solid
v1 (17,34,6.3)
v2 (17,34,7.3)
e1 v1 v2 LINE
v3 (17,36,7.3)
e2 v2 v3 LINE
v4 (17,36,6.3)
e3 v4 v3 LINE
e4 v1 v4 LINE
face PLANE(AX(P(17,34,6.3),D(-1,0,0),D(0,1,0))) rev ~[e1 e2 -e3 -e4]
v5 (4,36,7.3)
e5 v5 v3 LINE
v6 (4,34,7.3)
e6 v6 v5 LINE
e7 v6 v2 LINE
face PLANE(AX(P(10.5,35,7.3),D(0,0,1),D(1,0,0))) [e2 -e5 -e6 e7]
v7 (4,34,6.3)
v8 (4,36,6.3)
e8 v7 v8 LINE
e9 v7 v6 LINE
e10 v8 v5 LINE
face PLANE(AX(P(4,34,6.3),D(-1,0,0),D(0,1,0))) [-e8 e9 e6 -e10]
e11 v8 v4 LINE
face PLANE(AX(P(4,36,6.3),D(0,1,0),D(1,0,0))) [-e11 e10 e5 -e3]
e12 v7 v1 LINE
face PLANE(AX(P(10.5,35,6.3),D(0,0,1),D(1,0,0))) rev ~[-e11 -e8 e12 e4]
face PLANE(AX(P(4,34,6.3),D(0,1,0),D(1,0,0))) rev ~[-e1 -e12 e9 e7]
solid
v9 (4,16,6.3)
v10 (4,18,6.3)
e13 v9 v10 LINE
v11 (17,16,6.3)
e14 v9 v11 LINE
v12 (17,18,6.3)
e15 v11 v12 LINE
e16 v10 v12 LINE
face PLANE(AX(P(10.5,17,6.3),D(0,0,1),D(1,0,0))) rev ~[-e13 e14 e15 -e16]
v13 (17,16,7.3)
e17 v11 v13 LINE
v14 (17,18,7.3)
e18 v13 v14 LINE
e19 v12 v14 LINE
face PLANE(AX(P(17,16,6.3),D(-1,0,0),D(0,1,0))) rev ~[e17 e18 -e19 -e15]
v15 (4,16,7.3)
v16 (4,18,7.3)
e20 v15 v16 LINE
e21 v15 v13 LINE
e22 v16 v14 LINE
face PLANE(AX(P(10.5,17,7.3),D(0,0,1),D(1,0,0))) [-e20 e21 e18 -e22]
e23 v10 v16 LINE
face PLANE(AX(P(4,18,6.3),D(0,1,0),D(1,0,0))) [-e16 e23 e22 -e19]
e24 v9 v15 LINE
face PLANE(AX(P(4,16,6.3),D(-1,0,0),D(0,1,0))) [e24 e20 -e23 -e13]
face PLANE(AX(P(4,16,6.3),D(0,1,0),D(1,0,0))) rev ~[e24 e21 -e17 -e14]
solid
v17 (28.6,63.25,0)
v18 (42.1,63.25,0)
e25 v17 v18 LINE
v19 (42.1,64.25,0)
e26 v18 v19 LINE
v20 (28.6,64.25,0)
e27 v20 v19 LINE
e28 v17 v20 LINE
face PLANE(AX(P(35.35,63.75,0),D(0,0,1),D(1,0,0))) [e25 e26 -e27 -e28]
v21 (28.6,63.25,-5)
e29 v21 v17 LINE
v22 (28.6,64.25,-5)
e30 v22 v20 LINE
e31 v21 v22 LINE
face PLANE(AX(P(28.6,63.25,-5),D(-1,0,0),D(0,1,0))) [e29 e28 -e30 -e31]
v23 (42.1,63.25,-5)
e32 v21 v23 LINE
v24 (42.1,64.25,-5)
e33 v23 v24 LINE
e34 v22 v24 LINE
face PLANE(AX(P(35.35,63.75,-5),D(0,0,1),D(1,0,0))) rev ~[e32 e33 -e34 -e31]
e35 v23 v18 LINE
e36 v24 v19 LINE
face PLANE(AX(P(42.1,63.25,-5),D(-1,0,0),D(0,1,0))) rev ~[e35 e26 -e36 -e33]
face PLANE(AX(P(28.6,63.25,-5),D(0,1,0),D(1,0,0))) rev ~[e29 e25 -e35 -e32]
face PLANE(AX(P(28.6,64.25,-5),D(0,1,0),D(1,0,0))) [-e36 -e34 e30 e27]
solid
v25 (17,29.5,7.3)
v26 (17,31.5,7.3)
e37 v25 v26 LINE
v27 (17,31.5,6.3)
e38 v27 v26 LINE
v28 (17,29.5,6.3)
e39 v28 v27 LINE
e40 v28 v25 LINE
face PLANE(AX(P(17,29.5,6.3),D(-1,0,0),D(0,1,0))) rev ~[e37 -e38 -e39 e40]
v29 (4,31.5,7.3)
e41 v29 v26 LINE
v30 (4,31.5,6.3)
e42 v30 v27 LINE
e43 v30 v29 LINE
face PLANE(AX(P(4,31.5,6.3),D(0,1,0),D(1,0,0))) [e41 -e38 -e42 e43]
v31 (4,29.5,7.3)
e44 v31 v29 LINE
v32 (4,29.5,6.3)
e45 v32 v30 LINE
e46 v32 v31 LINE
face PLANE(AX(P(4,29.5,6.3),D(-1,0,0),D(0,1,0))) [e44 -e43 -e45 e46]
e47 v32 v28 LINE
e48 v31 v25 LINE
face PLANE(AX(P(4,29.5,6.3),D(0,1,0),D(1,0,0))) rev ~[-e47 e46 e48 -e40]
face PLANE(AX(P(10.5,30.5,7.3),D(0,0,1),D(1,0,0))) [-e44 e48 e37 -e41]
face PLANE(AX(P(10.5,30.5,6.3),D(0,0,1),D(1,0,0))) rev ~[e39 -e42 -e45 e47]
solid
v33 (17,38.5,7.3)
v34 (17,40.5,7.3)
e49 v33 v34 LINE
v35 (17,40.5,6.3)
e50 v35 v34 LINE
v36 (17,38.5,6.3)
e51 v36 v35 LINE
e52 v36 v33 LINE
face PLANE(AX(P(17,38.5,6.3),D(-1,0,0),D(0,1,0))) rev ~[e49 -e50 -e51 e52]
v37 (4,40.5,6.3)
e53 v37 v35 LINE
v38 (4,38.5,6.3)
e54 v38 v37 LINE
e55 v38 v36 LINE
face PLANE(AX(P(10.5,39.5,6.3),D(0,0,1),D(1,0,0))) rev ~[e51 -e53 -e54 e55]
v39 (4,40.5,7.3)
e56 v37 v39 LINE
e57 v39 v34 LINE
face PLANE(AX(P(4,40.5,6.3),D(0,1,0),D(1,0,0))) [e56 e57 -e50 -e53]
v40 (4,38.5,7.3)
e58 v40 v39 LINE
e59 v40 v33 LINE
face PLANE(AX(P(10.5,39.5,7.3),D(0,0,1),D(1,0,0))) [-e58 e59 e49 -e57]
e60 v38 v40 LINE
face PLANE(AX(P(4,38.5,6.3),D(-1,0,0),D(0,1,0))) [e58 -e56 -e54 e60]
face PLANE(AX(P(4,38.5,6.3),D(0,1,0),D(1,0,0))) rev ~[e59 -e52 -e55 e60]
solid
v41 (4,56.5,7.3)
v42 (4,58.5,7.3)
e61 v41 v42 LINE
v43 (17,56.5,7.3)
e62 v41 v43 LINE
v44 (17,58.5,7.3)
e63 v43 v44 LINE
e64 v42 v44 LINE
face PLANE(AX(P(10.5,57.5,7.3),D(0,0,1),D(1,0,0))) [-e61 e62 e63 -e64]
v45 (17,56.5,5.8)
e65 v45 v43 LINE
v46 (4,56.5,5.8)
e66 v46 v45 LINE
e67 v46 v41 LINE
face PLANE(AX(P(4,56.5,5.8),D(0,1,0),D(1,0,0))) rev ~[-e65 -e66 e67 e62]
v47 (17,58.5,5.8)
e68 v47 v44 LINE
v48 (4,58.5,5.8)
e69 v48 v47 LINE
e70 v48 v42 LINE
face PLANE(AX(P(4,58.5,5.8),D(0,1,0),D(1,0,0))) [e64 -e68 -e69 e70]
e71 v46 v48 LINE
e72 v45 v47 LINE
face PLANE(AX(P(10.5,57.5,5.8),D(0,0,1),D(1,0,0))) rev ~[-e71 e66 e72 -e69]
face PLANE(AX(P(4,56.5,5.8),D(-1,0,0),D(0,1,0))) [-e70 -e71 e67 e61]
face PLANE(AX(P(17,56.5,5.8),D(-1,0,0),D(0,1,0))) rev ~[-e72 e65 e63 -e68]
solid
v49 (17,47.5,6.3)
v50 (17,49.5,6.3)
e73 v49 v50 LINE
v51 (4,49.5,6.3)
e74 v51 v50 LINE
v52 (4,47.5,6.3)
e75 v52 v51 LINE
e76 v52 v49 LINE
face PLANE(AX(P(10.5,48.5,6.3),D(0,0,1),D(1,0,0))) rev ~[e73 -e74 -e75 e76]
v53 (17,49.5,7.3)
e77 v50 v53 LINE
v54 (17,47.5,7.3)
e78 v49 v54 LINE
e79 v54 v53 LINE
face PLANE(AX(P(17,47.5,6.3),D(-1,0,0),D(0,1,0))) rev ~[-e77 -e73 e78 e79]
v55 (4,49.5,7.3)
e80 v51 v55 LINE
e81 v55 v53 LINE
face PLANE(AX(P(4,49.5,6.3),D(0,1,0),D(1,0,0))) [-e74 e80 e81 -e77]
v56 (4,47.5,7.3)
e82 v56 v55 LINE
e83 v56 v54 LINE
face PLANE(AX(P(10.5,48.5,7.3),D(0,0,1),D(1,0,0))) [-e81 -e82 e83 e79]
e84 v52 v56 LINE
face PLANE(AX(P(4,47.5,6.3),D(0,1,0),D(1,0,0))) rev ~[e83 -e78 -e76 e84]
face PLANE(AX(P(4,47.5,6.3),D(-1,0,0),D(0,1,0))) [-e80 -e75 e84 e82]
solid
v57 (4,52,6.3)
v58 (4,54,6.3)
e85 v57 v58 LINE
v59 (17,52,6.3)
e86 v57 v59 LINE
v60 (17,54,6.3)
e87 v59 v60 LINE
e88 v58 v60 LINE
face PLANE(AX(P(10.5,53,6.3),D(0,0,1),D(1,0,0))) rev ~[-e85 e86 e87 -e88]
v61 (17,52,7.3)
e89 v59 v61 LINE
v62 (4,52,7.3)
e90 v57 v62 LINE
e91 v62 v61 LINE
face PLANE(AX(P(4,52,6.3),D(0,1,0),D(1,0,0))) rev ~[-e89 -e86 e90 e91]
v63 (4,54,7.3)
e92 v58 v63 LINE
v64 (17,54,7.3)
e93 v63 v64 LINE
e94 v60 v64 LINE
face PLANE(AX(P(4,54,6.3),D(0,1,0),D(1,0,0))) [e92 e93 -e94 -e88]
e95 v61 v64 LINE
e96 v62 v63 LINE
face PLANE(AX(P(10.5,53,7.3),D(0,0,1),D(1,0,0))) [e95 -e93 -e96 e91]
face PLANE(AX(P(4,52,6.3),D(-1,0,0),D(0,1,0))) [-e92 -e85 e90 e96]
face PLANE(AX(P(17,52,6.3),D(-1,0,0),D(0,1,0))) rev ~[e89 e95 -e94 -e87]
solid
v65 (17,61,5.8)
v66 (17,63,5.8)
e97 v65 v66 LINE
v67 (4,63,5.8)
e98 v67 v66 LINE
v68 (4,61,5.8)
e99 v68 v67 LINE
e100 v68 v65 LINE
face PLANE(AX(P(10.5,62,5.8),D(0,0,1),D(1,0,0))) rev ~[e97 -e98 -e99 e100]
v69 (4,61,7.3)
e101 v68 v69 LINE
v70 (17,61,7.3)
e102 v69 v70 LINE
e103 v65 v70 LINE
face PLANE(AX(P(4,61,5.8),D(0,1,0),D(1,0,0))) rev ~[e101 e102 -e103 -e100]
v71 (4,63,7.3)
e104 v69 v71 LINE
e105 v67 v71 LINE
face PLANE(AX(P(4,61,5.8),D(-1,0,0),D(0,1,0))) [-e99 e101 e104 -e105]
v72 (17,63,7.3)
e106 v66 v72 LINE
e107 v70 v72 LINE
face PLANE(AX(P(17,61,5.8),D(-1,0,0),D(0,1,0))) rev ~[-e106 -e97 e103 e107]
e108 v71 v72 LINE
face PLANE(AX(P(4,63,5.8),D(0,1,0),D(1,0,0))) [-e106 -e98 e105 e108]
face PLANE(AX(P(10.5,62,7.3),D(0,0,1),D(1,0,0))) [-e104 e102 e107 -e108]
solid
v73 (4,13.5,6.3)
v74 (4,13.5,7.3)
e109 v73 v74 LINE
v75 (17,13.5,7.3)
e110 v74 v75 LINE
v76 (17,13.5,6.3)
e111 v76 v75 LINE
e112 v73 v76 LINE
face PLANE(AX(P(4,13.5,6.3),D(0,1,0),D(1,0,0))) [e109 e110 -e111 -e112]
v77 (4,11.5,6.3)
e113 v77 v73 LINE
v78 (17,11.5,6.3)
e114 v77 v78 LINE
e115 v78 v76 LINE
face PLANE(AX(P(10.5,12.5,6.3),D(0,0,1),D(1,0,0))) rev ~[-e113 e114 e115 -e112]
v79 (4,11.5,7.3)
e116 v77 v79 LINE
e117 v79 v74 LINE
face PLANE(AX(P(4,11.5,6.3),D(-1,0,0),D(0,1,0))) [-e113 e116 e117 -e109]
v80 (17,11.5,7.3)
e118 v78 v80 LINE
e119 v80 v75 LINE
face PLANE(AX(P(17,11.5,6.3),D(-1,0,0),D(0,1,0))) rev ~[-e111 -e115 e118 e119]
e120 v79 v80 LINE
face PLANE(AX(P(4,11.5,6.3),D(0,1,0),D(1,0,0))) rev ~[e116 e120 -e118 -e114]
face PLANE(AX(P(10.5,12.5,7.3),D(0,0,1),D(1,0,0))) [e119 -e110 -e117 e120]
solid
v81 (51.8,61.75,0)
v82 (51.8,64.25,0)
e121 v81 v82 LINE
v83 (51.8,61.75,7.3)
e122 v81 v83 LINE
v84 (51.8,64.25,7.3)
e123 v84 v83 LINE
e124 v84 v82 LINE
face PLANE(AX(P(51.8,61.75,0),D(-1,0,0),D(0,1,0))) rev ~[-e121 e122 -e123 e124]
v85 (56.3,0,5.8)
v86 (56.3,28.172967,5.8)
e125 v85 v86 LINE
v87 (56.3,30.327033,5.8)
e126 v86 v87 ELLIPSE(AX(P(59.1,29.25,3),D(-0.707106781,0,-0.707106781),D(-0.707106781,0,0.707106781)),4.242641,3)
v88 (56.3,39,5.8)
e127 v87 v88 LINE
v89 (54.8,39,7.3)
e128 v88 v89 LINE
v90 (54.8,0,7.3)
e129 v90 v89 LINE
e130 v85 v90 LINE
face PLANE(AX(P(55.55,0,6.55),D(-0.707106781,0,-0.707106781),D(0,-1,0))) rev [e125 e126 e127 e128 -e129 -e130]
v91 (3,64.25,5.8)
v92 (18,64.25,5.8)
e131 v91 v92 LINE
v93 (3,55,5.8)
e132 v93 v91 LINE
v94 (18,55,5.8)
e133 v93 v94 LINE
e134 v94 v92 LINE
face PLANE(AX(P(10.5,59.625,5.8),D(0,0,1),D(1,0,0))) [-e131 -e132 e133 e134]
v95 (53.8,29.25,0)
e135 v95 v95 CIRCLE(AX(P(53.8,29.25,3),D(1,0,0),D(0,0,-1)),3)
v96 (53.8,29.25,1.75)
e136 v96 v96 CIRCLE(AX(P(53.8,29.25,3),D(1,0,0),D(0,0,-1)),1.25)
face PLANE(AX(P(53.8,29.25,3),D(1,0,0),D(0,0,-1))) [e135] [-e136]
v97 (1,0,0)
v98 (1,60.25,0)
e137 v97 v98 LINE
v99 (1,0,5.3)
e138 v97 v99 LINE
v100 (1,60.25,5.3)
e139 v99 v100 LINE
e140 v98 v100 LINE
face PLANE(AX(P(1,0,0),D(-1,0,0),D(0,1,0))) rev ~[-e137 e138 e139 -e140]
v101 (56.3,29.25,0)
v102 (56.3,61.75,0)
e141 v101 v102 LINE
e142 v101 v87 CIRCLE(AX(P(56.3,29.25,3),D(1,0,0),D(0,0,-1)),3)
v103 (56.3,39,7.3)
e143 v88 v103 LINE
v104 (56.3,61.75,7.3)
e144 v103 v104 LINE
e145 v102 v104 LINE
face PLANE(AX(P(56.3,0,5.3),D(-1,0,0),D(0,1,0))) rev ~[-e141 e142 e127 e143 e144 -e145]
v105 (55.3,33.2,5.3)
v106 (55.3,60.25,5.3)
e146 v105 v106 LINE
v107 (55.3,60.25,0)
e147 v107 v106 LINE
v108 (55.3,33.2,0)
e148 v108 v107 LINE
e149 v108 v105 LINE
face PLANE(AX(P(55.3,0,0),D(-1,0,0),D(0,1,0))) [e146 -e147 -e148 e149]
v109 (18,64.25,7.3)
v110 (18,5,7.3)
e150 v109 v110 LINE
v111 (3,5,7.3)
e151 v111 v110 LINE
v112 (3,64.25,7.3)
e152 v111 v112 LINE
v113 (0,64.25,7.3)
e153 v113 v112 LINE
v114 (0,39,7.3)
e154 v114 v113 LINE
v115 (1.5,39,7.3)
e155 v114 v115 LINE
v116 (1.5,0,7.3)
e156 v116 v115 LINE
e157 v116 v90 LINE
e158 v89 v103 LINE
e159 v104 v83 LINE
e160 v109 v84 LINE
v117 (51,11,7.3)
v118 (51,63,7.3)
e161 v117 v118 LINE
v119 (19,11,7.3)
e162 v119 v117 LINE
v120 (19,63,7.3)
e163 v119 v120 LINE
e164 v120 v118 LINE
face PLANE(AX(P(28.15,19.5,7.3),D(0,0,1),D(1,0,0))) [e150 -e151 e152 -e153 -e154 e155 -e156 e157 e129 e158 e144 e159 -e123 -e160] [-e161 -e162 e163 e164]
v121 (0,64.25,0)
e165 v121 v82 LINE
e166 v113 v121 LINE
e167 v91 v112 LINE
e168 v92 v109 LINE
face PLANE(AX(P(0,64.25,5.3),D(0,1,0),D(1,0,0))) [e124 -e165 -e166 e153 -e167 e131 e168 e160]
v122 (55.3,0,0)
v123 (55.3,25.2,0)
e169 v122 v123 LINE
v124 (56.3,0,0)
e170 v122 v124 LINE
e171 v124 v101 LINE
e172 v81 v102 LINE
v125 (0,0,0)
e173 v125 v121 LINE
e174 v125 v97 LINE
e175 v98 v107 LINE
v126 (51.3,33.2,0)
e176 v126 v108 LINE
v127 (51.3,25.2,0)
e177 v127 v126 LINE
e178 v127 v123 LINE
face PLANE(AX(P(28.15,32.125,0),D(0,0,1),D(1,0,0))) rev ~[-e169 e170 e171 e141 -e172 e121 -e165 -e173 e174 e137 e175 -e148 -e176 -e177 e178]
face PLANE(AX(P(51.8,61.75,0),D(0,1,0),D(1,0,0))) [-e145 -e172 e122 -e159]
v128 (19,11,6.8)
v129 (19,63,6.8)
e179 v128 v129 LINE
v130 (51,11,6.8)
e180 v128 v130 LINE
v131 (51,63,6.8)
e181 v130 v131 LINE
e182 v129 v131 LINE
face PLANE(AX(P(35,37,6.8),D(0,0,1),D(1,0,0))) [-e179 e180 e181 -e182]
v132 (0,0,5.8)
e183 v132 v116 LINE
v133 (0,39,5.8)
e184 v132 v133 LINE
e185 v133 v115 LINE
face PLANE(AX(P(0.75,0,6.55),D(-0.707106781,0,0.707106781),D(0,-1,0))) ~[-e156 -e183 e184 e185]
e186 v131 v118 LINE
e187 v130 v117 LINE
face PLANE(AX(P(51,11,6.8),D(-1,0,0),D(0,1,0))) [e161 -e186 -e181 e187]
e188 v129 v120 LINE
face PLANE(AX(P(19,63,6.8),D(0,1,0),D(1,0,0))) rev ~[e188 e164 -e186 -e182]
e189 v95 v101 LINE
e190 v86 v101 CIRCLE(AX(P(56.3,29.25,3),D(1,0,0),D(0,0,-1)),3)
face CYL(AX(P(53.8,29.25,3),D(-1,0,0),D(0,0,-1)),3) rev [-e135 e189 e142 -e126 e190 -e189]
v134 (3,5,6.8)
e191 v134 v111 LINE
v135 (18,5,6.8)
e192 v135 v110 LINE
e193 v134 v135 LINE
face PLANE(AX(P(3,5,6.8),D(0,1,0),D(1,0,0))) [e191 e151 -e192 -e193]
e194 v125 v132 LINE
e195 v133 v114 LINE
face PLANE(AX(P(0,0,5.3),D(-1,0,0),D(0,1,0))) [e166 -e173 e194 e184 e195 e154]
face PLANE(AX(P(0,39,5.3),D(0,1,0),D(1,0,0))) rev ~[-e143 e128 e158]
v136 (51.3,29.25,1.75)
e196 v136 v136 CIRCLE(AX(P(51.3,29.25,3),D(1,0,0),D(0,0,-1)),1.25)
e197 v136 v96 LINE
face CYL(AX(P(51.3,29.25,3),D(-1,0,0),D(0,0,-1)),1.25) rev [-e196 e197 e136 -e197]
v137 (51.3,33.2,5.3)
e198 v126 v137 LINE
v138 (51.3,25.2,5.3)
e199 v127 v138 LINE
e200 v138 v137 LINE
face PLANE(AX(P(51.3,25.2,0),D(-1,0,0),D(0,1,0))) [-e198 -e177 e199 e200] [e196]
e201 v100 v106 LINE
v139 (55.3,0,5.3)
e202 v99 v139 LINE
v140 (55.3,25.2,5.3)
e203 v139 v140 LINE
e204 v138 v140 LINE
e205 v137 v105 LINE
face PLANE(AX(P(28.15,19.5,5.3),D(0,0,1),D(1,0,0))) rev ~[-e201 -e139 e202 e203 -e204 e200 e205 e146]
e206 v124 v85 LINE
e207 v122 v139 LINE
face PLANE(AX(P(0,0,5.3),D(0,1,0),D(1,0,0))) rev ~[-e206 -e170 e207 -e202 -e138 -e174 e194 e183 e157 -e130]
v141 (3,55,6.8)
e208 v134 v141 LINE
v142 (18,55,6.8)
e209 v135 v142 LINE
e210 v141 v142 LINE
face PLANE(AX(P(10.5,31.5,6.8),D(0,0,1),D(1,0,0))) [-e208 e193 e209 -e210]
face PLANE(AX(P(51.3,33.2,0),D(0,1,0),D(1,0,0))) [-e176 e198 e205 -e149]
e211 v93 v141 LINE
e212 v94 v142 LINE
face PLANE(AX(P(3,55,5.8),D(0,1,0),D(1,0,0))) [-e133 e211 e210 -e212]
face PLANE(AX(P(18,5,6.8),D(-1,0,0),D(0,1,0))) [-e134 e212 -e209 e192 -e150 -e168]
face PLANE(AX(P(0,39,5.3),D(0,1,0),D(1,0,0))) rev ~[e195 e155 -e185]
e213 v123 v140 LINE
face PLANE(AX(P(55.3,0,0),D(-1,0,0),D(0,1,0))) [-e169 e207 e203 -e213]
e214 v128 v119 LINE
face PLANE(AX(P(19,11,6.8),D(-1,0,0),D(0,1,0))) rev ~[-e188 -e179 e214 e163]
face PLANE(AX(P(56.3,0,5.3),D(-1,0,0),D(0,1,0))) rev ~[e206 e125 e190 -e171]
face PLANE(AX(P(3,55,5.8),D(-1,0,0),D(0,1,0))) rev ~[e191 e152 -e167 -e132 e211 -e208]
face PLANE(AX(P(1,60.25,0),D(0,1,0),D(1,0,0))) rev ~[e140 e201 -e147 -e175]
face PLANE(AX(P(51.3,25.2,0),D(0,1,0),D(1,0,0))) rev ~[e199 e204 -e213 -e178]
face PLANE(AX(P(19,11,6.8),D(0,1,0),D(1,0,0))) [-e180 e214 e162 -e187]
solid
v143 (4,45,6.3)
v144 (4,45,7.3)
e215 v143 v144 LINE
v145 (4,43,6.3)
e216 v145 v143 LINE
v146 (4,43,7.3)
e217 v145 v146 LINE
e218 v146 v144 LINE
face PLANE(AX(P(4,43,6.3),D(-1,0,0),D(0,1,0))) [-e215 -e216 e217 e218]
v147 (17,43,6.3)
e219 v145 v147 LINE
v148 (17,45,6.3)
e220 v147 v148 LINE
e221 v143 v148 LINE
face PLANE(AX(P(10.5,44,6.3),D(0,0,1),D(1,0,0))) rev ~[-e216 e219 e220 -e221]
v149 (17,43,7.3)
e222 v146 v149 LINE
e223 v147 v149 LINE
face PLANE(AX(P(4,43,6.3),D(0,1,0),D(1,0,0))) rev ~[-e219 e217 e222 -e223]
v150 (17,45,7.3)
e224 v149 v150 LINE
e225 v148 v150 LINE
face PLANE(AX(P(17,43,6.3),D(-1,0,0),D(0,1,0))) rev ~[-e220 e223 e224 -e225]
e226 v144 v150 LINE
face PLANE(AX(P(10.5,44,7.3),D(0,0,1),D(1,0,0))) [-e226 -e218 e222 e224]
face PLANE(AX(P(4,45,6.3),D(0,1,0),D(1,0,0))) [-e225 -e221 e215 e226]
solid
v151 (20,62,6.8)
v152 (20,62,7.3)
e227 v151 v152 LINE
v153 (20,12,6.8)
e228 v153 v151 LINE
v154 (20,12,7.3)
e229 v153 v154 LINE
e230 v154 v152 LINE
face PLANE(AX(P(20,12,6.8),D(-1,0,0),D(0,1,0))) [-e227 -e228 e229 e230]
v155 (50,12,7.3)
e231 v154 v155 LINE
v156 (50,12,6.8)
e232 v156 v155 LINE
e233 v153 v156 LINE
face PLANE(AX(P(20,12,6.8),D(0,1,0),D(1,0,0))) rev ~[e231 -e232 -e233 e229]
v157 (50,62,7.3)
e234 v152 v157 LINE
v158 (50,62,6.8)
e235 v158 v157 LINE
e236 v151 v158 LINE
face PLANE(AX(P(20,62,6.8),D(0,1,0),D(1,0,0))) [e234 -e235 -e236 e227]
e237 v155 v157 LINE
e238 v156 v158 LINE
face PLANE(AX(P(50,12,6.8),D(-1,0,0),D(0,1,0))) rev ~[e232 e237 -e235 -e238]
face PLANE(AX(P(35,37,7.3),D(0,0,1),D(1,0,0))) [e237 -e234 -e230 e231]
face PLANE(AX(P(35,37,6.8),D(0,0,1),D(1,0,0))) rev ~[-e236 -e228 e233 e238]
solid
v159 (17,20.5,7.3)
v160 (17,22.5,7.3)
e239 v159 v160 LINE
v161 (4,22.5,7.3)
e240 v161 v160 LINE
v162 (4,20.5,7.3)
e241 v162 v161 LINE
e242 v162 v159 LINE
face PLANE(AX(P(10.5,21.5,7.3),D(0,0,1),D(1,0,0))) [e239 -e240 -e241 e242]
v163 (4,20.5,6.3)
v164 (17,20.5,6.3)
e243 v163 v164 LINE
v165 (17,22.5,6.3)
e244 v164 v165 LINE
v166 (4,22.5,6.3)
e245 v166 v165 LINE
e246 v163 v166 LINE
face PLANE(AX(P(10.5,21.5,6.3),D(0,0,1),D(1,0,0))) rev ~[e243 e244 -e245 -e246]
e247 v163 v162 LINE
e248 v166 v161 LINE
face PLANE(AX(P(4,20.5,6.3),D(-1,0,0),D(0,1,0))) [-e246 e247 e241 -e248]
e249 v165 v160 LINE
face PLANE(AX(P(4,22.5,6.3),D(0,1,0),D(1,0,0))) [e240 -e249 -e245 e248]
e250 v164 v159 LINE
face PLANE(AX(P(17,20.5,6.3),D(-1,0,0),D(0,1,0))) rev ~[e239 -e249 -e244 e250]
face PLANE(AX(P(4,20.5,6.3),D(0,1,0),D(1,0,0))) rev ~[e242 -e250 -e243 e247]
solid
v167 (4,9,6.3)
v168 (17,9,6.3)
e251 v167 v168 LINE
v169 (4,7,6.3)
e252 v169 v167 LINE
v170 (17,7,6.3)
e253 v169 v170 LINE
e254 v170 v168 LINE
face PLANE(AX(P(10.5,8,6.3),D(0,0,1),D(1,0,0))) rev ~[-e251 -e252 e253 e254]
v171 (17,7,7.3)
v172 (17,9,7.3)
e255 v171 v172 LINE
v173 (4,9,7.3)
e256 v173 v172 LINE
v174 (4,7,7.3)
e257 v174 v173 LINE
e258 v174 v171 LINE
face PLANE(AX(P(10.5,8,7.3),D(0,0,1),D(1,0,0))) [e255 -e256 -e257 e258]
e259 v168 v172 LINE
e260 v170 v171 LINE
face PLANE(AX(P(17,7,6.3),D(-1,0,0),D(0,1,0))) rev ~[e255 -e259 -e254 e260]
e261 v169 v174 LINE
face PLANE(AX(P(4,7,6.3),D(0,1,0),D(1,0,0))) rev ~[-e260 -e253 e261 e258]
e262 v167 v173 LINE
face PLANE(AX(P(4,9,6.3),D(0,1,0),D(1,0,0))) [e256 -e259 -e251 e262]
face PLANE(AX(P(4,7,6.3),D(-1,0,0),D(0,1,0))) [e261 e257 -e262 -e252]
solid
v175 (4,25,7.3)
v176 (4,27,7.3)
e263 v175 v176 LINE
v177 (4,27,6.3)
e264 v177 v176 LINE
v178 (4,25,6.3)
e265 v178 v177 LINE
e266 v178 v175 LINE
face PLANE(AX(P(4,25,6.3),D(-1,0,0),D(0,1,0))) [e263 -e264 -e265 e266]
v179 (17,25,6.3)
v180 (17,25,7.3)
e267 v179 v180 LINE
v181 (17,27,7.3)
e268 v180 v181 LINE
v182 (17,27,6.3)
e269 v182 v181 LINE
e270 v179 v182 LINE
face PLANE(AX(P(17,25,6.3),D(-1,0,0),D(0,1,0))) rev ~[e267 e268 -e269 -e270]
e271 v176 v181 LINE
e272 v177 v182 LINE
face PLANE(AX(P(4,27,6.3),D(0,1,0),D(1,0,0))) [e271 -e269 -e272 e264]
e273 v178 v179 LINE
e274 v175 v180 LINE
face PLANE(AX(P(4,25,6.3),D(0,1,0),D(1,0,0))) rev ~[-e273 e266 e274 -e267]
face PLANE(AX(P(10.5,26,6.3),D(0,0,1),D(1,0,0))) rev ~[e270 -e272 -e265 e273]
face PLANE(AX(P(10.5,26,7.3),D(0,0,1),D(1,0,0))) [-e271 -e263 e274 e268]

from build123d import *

# Parameters (mm, degrees)
BOX017_W          = 30
BOX017_H          = 50
BOX017_DEPTH      = 0.5
BOX020_W          = 13
BOX020_H          = 2
BOX020_DEPTH      = 1
BOX021_W          = 13
BOX021_H          = 2
BOX021_DEPTH      = 1
BOX022_W          = 13
BOX022_H          = 2
BOX022_DEPTH      = 1
BOX023_W          = 13
BOX023_H          = 2
BOX023_DEPTH      = 1
BOX024_W          = 13
BOX024_H          = 2
BOX024_DEPTH      = 1
BOX025_W          = 13
BOX025_H          = 2
BOX025_DEPTH      = 1
BOX030_W          = 13
BOX030_H          = 2
BOX030_DEPTH      = 1
BOX031_W          = 13
BOX031_H          = 2
BOX031_DEPTH      = 1
BOX032_W          = 13
BOX032_H          = 2
BOX032_DEPTH      = 1
BOX034_W          = 13
BOX034_H          = 2
BOX034_DEPTH      = 1
BOX035_W          = 13
BOX035_H          = 2
BOX035_DEPTH      = 1
BOX038_W          = 13
BOX038_H          = 2
BOX038_DEPTH      = 1.5
BOX040_W          = 13
BOX040_H          = 2
BOX040_DEPTH      = 1.5
BOX043_W          = 13.5
BOX043_H          = 1
BOX043_DEPTH      = 5
CYLINDER001_R     = 1.25
CYLINDER001_DEPTH = 2.5
CYLINDER_R        = 3
CYLINDER_DEPTH    = 2.5
BOX041_W          = 32
BOX041_H          = 52
BOX041_DEPTH      = 0.5
BOX018_W          = 15
BOX018_H          = 53
BOX018_DEPTH      = 0.5
BOX008_W          = 56.3
BOX008_H          = 39
BOX008_DEPTH      = 2
CHAMFER_SIZE      = 1.5
BOX019_W          = 15
BOX019_H          = 9.25
BOX019_DEPTH      = 1.5
BOX029_W          = 17
BOX029_H          = 9.25
BOX029_DEPTH      = 1.5
BOX010_W          = 10
BOX010_H          = 10
BOX010_DEPTH      = 10
BOX007_W          = 56.3
BOX007_H          = 25.25
BOX007_DEPTH      = 2
BOX042_W          = 54.3
BOX042_H          = 60.25
BOX042_DEPTH      = 5.3
BOX001_W          = 4.5
BOX001_H          = 2.5
BOX001_DEPTH      = 5.3
BOX_W             = 56.3
BOX_H             = 64.25
BOX_DEPTH         = 5.3
BOX044_W          = 4
BOX044_H          = 8
BOX044_DEPTH      = 5.3


with BuildPart() as cube_game_lable_inner:
    # Box017 → Box017 (new body)
    with BuildSketch(Plane(origin=(20, 12, 6.8), x_dir=(1, 0, 0), z_dir=(0, 0, 1))):
        with Locations((15, 25)):
            Rectangle(BOX017_W, BOX017_H)
    extrude(amount=BOX017_DEPTH)


with BuildPart() as cube_ladders:
    # Box020 → Box020 (new body)
    with BuildSketch(Plane(origin=(4, 7, 6.3), x_dir=(1, 0, 0), z_dir=(0, 0, 1))):
        with Locations((6.5, 1)):
            Rectangle(BOX020_W, BOX020_H)
    extrude(amount=BOX020_DEPTH)


with BuildPart() as box021:
    # Box021 → Box021 (new body)
    with BuildSketch(Plane(origin=(4, 11.5, 6.3), x_dir=(1, 0, 0), z_dir=(0, 0, 1))):
        with Locations((6.5, 1)):
            Rectangle(BOX021_W, BOX021_H)
    extrude(amount=BOX021_DEPTH)


with BuildPart() as box022:
    # Box022 → Box022 (new body)
    with BuildSketch(Plane(origin=(4, 16, 6.3), x_dir=(1, 0, 0), z_dir=(0, 0, 1))):
        with Locations((6.5, 1)):
            Rectangle(BOX022_W, BOX022_H)
    extrude(amount=BOX022_DEPTH)


with BuildPart() as box023:
    # Box023 → Box023 (new body)
    with BuildSketch(Plane(origin=(4, 20.5, 6.3), x_dir=(1, 0, 0), z_dir=(0, 0, 1))):
        with Locations((6.5, 1)):
            Rectangle(BOX023_W, BOX023_H)
    extrude(amount=BOX023_DEPTH)


with BuildPart() as box024:
    # Box024 → Box024 (new body)
    with BuildSketch(Plane(origin=(4, 25, 6.3), x_dir=(1, 0, 0), z_dir=(0, 0, 1))):
        with Locations((6.5, 1)):
            Rectangle(BOX024_W, BOX024_H)
    extrude(amount=BOX024_DEPTH)


with BuildPart() as box025:
    # Box025 → Box025 (new body)
    with BuildSketch(Plane(origin=(4, 29.5, 6.3), x_dir=(1, 0, 0), z_dir=(0, 0, 1))):
        with Locations((6.5, 1)):
            Rectangle(BOX025_W, BOX025_H)
    extrude(amount=BOX025_DEPTH)


with BuildPart() as box030:
    # Box030 → Box030 (new body)
    with BuildSketch(Plane(origin=(4, 34, 6.3), x_dir=(1, 0, 0), z_dir=(0, 0, 1))):
        with Locations((6.5, 1)):
            Rectangle(BOX030_W, BOX030_H)
    extrude(amount=BOX030_DEPTH)


with BuildPart() as box031:
    # Box031 → Box031 (new body)
    with BuildSketch(Plane(origin=(4, 38.5, 6.3), x_dir=(1, 0, 0), z_dir=(0, 0, 1))):
        with Locations((6.5, 1)):
            Rectangle(BOX031_W, BOX031_H)
    extrude(amount=BOX031_DEPTH)


with BuildPart() as box032:
    # Box032 → Box032 (new body)
    with BuildSketch(Plane(origin=(4, 43, 6.3), x_dir=(1, 0, 0), z_dir=(0, 0, 1))):
        with Locations((6.5, 1)):
            Rectangle(BOX032_W, BOX032_H)
    extrude(amount=BOX032_DEPTH)


with BuildPart() as box034:
    # Box034 → Box034 (new body)
    with BuildSketch(Plane(origin=(4, 47.5, 6.3), x_dir=(1, 0, 0), z_dir=(0, 0, 1))):
        with Locations((6.5, 1)):
            Rectangle(BOX034_W, BOX034_H)
    extrude(amount=BOX034_DEPTH)


with BuildPart() as box035:
    # Box035 → Box035 (new body)
    with BuildSketch(Plane(origin=(4, 52, 6.3), x_dir=(1, 0, 0), z_dir=(0, 0, 1))):
        with Locations((6.5, 1)):
            Rectangle(BOX035_W, BOX035_H)
    extrude(amount=BOX035_DEPTH)


with BuildPart() as box038:
    # Box038 → Box038 (new body)
    with BuildSketch(Plane(origin=(4, 56.5, 5.8), x_dir=(1, 0, 0), z_dir=(0, 0, 1))):
        with Locations((6.5, 1)):
            Rectangle(BOX038_W, BOX038_H)
    extrude(amount=BOX038_DEPTH)


with BuildPart() as box040:
    # Box040 → Box040 (new body)
    with BuildSketch(Plane(origin=(4, 61, 5.8), x_dir=(1, 0, 0), z_dir=(0, 0, 1))):
        with Locations((6.5, 1)):
            Rectangle(BOX040_W, BOX040_H)
    extrude(amount=BOX040_DEPTH)


with BuildPart() as cube_sd_card_cover:
    # Box043 → Box043 (new body)
    with BuildSketch(Plane(origin=(28.6, 63.25, -5), x_dir=(1, 0, 0), z_dir=(0, 0, 1))):
        with Locations((6.75, 0.5)):
            Rectangle(BOX043_W, BOX043_H)
    extrude(amount=BOX043_DEPTH)


with BuildPart() as cylinder001:
    # Cylinder001 → Cylinder001 (new body)
    with BuildSketch(Plane(origin=(51.3, 29.25, 3), x_dir=(0, 0, -1), z_dir=(1, 0, 0))):
        Circle(CYLINDER001_R)
    extrude(amount=CYLINDER001_DEPTH)


with BuildPart() as fusion:
    # Cylinder → Cylinder (new body)
    with BuildSketch(Plane(origin=(53.8, 29.25, 3), x_dir=(0, 0, -1), z_dir=(1, 0, 0))):
        Circle(CYLINDER_R)
    extrude(amount=CYLINDER_DEPTH)

    # Fusion: union Cylinder001
    add(cylinder001.part)


with BuildPart() as cube_game_lable_outer:
    # Box041 → Box041 (new body)
    with BuildSketch(Plane(origin=(19, 11, 6.8), x_dir=(1, 0, 0), z_dir=(0, 0, 1))):
        with Locations((16, 26)):
            Rectangle(BOX041_W, BOX041_H)
    extrude(amount=BOX041_DEPTH)


with BuildPart() as cube_cube_strips:
    # Box018 → Box018 (new body)
    with BuildSketch(Plane(origin=(3, 5, 6.8), x_dir=(1, 0, 0), z_dir=(0, 0, 1))):
        with Locations((7.5, 26.5)):
            Rectangle(BOX018_W, BOX018_H)
    extrude(amount=BOX018_DEPTH)


with BuildPart() as chamfer_body:
    # Box008 → Box008 (new body)
    with BuildSketch(Plane.XY.offset(5.3)):
        with Locations((28.15, 19.5)):
            Rectangle(BOX008_W, BOX008_H)
    extrude(amount=BOX008_DEPTH)

    # Chamfer
    chamfer_edges = [chamfer_body.edges().sort_by_distance(p)[0] for p in [
        (0, 19.5, 7.3),
        (56.3, 19.5, 7.3),
    ]]
    chamfer(chamfer_edges, length=CHAMFER_SIZE)


with BuildPart() as cube_cube_strip_top:
    # Box019 → Box019 (new body)
    with BuildSketch(Plane(origin=(3, 55, 5.8), x_dir=(1, 0, 0), z_dir=(0, 0, 1))):
        with Locations((7.5, 4.625)):
            Rectangle(BOX019_W, BOX019_H)
    extrude(amount=BOX019_DEPTH)


with BuildPart() as cube_cube_strip_top_outer:
    # Box029 → Box029 (new body)
    with BuildSketch(Plane(origin=(2, 55, 5.8), x_dir=(1, 0, 0), z_dir=(0, 0, 1))):
        with Locations((8.5, 4.625)):
            Rectangle(BOX029_W, BOX029_H)
    extrude(amount=BOX029_DEPTH)


with BuildPart() as cube_top_corner_cut:
    # Box010 → Box010 (new body)
    with BuildSketch(Plane(origin=(51.8, 61.75, 0), x_dir=(1, 0, 0), z_dir=(0, 0, 1))):
        with Locations((5, 5)):
            Rectangle(BOX010_W, BOX010_H)
    extrude(amount=BOX010_DEPTH)


with BuildPart() as cut013:
    # Box007 → Box007 (new body)
    with BuildSketch(Plane(origin=(0, 39, 5.3), x_dir=(1, 0, 0), z_dir=(0, 0, 1))):
        with Locations((28.15, 12.625)):
            Rectangle(BOX007_W, BOX007_H)
    extrude(amount=BOX007_DEPTH)

    # Cut006: cut Cube(top_corner_cut)
    add(cube_top_corner_cut.part, mode=Mode.SUBTRACT)

    # Fusion003: union Cube(cube_strip_top_outer)
    add(cube_cube_strip_top_outer.part)

    # Cut008: cut Cube(cube_strip_top)
    add(cube_cube_strip_top.part, mode=Mode.SUBTRACT)

    # Fusion004: union Chamfer body
    add(chamfer_body.part)

    # Cut012: cut Cube(cube_strips)
    add(cube_cube_strips.part, mode=Mode.SUBTRACT)

    # Cut013: cut Cube(game_lable_outer)
    add(cube_game_lable_outer.part, mode=Mode.SUBTRACT)


with BuildPart() as box042:
    # Box042 → Box042 (new body)
    with BuildSketch(Plane(origin=(1, 0, 0), x_dir=(1, 0, 0), z_dir=(0, 0, 1))):
        with Locations((27.15, 30.125)):
            Rectangle(BOX042_W, BOX042_H)
    extrude(amount=BOX042_DEPTH)


with BuildPart() as cube_corner_inner:
    # Box001 → Box001 (new body)
    with BuildSketch(Plane(origin=(51.8, 61.75, 0), x_dir=(1, 0, 0), z_dir=(0, 0, 1))):
        with Locations((2.25, 1.25)):
            Rectangle(BOX001_W, BOX001_H)
    extrude(amount=BOX001_DEPTH)


with BuildPart() as cut014:
    # Box → Box (new body)
    with BuildSketch(Plane.XY):
        with Locations((28.15, 32.125)):
            Rectangle(BOX_W, BOX_H)
    extrude(amount=BOX_DEPTH)

    # Cut: cut Cube(corner_inner)
    add(cube_corner_inner.part, mode=Mode.SUBTRACT)

    # Cut014: cut Box042
    add(box042.part, mode=Mode.SUBTRACT)


with BuildPart() as cut015:
    # Box044 → Box044 (new body)
    with BuildSketch(Plane(origin=(51.3, 25.2, 0), x_dir=(1, 0, 0), z_dir=(0, 0, 1))):
        with Locations((2, 4)):
            Rectangle(BOX044_W, BOX044_H)
    extrude(amount=BOX044_DEPTH)

    # Fusion005: union Cut014
    add(cut014.part)

    # Fusion006: union Cut013
    add(cut013.part)

    # Cut015: cut Fusion
    add(fusion.part, mode=Mode.SUBTRACT)


solid = Compound([cube_game_lable_inner.part, cube_ladders.part, box021.part, box022.part, box023.part, box024.part, box025.part, box030.part, box031.part, box032.part, box034.part, box035.part, box038.part, box040.part, cube_sd_card_cover.part, cut015.part])
